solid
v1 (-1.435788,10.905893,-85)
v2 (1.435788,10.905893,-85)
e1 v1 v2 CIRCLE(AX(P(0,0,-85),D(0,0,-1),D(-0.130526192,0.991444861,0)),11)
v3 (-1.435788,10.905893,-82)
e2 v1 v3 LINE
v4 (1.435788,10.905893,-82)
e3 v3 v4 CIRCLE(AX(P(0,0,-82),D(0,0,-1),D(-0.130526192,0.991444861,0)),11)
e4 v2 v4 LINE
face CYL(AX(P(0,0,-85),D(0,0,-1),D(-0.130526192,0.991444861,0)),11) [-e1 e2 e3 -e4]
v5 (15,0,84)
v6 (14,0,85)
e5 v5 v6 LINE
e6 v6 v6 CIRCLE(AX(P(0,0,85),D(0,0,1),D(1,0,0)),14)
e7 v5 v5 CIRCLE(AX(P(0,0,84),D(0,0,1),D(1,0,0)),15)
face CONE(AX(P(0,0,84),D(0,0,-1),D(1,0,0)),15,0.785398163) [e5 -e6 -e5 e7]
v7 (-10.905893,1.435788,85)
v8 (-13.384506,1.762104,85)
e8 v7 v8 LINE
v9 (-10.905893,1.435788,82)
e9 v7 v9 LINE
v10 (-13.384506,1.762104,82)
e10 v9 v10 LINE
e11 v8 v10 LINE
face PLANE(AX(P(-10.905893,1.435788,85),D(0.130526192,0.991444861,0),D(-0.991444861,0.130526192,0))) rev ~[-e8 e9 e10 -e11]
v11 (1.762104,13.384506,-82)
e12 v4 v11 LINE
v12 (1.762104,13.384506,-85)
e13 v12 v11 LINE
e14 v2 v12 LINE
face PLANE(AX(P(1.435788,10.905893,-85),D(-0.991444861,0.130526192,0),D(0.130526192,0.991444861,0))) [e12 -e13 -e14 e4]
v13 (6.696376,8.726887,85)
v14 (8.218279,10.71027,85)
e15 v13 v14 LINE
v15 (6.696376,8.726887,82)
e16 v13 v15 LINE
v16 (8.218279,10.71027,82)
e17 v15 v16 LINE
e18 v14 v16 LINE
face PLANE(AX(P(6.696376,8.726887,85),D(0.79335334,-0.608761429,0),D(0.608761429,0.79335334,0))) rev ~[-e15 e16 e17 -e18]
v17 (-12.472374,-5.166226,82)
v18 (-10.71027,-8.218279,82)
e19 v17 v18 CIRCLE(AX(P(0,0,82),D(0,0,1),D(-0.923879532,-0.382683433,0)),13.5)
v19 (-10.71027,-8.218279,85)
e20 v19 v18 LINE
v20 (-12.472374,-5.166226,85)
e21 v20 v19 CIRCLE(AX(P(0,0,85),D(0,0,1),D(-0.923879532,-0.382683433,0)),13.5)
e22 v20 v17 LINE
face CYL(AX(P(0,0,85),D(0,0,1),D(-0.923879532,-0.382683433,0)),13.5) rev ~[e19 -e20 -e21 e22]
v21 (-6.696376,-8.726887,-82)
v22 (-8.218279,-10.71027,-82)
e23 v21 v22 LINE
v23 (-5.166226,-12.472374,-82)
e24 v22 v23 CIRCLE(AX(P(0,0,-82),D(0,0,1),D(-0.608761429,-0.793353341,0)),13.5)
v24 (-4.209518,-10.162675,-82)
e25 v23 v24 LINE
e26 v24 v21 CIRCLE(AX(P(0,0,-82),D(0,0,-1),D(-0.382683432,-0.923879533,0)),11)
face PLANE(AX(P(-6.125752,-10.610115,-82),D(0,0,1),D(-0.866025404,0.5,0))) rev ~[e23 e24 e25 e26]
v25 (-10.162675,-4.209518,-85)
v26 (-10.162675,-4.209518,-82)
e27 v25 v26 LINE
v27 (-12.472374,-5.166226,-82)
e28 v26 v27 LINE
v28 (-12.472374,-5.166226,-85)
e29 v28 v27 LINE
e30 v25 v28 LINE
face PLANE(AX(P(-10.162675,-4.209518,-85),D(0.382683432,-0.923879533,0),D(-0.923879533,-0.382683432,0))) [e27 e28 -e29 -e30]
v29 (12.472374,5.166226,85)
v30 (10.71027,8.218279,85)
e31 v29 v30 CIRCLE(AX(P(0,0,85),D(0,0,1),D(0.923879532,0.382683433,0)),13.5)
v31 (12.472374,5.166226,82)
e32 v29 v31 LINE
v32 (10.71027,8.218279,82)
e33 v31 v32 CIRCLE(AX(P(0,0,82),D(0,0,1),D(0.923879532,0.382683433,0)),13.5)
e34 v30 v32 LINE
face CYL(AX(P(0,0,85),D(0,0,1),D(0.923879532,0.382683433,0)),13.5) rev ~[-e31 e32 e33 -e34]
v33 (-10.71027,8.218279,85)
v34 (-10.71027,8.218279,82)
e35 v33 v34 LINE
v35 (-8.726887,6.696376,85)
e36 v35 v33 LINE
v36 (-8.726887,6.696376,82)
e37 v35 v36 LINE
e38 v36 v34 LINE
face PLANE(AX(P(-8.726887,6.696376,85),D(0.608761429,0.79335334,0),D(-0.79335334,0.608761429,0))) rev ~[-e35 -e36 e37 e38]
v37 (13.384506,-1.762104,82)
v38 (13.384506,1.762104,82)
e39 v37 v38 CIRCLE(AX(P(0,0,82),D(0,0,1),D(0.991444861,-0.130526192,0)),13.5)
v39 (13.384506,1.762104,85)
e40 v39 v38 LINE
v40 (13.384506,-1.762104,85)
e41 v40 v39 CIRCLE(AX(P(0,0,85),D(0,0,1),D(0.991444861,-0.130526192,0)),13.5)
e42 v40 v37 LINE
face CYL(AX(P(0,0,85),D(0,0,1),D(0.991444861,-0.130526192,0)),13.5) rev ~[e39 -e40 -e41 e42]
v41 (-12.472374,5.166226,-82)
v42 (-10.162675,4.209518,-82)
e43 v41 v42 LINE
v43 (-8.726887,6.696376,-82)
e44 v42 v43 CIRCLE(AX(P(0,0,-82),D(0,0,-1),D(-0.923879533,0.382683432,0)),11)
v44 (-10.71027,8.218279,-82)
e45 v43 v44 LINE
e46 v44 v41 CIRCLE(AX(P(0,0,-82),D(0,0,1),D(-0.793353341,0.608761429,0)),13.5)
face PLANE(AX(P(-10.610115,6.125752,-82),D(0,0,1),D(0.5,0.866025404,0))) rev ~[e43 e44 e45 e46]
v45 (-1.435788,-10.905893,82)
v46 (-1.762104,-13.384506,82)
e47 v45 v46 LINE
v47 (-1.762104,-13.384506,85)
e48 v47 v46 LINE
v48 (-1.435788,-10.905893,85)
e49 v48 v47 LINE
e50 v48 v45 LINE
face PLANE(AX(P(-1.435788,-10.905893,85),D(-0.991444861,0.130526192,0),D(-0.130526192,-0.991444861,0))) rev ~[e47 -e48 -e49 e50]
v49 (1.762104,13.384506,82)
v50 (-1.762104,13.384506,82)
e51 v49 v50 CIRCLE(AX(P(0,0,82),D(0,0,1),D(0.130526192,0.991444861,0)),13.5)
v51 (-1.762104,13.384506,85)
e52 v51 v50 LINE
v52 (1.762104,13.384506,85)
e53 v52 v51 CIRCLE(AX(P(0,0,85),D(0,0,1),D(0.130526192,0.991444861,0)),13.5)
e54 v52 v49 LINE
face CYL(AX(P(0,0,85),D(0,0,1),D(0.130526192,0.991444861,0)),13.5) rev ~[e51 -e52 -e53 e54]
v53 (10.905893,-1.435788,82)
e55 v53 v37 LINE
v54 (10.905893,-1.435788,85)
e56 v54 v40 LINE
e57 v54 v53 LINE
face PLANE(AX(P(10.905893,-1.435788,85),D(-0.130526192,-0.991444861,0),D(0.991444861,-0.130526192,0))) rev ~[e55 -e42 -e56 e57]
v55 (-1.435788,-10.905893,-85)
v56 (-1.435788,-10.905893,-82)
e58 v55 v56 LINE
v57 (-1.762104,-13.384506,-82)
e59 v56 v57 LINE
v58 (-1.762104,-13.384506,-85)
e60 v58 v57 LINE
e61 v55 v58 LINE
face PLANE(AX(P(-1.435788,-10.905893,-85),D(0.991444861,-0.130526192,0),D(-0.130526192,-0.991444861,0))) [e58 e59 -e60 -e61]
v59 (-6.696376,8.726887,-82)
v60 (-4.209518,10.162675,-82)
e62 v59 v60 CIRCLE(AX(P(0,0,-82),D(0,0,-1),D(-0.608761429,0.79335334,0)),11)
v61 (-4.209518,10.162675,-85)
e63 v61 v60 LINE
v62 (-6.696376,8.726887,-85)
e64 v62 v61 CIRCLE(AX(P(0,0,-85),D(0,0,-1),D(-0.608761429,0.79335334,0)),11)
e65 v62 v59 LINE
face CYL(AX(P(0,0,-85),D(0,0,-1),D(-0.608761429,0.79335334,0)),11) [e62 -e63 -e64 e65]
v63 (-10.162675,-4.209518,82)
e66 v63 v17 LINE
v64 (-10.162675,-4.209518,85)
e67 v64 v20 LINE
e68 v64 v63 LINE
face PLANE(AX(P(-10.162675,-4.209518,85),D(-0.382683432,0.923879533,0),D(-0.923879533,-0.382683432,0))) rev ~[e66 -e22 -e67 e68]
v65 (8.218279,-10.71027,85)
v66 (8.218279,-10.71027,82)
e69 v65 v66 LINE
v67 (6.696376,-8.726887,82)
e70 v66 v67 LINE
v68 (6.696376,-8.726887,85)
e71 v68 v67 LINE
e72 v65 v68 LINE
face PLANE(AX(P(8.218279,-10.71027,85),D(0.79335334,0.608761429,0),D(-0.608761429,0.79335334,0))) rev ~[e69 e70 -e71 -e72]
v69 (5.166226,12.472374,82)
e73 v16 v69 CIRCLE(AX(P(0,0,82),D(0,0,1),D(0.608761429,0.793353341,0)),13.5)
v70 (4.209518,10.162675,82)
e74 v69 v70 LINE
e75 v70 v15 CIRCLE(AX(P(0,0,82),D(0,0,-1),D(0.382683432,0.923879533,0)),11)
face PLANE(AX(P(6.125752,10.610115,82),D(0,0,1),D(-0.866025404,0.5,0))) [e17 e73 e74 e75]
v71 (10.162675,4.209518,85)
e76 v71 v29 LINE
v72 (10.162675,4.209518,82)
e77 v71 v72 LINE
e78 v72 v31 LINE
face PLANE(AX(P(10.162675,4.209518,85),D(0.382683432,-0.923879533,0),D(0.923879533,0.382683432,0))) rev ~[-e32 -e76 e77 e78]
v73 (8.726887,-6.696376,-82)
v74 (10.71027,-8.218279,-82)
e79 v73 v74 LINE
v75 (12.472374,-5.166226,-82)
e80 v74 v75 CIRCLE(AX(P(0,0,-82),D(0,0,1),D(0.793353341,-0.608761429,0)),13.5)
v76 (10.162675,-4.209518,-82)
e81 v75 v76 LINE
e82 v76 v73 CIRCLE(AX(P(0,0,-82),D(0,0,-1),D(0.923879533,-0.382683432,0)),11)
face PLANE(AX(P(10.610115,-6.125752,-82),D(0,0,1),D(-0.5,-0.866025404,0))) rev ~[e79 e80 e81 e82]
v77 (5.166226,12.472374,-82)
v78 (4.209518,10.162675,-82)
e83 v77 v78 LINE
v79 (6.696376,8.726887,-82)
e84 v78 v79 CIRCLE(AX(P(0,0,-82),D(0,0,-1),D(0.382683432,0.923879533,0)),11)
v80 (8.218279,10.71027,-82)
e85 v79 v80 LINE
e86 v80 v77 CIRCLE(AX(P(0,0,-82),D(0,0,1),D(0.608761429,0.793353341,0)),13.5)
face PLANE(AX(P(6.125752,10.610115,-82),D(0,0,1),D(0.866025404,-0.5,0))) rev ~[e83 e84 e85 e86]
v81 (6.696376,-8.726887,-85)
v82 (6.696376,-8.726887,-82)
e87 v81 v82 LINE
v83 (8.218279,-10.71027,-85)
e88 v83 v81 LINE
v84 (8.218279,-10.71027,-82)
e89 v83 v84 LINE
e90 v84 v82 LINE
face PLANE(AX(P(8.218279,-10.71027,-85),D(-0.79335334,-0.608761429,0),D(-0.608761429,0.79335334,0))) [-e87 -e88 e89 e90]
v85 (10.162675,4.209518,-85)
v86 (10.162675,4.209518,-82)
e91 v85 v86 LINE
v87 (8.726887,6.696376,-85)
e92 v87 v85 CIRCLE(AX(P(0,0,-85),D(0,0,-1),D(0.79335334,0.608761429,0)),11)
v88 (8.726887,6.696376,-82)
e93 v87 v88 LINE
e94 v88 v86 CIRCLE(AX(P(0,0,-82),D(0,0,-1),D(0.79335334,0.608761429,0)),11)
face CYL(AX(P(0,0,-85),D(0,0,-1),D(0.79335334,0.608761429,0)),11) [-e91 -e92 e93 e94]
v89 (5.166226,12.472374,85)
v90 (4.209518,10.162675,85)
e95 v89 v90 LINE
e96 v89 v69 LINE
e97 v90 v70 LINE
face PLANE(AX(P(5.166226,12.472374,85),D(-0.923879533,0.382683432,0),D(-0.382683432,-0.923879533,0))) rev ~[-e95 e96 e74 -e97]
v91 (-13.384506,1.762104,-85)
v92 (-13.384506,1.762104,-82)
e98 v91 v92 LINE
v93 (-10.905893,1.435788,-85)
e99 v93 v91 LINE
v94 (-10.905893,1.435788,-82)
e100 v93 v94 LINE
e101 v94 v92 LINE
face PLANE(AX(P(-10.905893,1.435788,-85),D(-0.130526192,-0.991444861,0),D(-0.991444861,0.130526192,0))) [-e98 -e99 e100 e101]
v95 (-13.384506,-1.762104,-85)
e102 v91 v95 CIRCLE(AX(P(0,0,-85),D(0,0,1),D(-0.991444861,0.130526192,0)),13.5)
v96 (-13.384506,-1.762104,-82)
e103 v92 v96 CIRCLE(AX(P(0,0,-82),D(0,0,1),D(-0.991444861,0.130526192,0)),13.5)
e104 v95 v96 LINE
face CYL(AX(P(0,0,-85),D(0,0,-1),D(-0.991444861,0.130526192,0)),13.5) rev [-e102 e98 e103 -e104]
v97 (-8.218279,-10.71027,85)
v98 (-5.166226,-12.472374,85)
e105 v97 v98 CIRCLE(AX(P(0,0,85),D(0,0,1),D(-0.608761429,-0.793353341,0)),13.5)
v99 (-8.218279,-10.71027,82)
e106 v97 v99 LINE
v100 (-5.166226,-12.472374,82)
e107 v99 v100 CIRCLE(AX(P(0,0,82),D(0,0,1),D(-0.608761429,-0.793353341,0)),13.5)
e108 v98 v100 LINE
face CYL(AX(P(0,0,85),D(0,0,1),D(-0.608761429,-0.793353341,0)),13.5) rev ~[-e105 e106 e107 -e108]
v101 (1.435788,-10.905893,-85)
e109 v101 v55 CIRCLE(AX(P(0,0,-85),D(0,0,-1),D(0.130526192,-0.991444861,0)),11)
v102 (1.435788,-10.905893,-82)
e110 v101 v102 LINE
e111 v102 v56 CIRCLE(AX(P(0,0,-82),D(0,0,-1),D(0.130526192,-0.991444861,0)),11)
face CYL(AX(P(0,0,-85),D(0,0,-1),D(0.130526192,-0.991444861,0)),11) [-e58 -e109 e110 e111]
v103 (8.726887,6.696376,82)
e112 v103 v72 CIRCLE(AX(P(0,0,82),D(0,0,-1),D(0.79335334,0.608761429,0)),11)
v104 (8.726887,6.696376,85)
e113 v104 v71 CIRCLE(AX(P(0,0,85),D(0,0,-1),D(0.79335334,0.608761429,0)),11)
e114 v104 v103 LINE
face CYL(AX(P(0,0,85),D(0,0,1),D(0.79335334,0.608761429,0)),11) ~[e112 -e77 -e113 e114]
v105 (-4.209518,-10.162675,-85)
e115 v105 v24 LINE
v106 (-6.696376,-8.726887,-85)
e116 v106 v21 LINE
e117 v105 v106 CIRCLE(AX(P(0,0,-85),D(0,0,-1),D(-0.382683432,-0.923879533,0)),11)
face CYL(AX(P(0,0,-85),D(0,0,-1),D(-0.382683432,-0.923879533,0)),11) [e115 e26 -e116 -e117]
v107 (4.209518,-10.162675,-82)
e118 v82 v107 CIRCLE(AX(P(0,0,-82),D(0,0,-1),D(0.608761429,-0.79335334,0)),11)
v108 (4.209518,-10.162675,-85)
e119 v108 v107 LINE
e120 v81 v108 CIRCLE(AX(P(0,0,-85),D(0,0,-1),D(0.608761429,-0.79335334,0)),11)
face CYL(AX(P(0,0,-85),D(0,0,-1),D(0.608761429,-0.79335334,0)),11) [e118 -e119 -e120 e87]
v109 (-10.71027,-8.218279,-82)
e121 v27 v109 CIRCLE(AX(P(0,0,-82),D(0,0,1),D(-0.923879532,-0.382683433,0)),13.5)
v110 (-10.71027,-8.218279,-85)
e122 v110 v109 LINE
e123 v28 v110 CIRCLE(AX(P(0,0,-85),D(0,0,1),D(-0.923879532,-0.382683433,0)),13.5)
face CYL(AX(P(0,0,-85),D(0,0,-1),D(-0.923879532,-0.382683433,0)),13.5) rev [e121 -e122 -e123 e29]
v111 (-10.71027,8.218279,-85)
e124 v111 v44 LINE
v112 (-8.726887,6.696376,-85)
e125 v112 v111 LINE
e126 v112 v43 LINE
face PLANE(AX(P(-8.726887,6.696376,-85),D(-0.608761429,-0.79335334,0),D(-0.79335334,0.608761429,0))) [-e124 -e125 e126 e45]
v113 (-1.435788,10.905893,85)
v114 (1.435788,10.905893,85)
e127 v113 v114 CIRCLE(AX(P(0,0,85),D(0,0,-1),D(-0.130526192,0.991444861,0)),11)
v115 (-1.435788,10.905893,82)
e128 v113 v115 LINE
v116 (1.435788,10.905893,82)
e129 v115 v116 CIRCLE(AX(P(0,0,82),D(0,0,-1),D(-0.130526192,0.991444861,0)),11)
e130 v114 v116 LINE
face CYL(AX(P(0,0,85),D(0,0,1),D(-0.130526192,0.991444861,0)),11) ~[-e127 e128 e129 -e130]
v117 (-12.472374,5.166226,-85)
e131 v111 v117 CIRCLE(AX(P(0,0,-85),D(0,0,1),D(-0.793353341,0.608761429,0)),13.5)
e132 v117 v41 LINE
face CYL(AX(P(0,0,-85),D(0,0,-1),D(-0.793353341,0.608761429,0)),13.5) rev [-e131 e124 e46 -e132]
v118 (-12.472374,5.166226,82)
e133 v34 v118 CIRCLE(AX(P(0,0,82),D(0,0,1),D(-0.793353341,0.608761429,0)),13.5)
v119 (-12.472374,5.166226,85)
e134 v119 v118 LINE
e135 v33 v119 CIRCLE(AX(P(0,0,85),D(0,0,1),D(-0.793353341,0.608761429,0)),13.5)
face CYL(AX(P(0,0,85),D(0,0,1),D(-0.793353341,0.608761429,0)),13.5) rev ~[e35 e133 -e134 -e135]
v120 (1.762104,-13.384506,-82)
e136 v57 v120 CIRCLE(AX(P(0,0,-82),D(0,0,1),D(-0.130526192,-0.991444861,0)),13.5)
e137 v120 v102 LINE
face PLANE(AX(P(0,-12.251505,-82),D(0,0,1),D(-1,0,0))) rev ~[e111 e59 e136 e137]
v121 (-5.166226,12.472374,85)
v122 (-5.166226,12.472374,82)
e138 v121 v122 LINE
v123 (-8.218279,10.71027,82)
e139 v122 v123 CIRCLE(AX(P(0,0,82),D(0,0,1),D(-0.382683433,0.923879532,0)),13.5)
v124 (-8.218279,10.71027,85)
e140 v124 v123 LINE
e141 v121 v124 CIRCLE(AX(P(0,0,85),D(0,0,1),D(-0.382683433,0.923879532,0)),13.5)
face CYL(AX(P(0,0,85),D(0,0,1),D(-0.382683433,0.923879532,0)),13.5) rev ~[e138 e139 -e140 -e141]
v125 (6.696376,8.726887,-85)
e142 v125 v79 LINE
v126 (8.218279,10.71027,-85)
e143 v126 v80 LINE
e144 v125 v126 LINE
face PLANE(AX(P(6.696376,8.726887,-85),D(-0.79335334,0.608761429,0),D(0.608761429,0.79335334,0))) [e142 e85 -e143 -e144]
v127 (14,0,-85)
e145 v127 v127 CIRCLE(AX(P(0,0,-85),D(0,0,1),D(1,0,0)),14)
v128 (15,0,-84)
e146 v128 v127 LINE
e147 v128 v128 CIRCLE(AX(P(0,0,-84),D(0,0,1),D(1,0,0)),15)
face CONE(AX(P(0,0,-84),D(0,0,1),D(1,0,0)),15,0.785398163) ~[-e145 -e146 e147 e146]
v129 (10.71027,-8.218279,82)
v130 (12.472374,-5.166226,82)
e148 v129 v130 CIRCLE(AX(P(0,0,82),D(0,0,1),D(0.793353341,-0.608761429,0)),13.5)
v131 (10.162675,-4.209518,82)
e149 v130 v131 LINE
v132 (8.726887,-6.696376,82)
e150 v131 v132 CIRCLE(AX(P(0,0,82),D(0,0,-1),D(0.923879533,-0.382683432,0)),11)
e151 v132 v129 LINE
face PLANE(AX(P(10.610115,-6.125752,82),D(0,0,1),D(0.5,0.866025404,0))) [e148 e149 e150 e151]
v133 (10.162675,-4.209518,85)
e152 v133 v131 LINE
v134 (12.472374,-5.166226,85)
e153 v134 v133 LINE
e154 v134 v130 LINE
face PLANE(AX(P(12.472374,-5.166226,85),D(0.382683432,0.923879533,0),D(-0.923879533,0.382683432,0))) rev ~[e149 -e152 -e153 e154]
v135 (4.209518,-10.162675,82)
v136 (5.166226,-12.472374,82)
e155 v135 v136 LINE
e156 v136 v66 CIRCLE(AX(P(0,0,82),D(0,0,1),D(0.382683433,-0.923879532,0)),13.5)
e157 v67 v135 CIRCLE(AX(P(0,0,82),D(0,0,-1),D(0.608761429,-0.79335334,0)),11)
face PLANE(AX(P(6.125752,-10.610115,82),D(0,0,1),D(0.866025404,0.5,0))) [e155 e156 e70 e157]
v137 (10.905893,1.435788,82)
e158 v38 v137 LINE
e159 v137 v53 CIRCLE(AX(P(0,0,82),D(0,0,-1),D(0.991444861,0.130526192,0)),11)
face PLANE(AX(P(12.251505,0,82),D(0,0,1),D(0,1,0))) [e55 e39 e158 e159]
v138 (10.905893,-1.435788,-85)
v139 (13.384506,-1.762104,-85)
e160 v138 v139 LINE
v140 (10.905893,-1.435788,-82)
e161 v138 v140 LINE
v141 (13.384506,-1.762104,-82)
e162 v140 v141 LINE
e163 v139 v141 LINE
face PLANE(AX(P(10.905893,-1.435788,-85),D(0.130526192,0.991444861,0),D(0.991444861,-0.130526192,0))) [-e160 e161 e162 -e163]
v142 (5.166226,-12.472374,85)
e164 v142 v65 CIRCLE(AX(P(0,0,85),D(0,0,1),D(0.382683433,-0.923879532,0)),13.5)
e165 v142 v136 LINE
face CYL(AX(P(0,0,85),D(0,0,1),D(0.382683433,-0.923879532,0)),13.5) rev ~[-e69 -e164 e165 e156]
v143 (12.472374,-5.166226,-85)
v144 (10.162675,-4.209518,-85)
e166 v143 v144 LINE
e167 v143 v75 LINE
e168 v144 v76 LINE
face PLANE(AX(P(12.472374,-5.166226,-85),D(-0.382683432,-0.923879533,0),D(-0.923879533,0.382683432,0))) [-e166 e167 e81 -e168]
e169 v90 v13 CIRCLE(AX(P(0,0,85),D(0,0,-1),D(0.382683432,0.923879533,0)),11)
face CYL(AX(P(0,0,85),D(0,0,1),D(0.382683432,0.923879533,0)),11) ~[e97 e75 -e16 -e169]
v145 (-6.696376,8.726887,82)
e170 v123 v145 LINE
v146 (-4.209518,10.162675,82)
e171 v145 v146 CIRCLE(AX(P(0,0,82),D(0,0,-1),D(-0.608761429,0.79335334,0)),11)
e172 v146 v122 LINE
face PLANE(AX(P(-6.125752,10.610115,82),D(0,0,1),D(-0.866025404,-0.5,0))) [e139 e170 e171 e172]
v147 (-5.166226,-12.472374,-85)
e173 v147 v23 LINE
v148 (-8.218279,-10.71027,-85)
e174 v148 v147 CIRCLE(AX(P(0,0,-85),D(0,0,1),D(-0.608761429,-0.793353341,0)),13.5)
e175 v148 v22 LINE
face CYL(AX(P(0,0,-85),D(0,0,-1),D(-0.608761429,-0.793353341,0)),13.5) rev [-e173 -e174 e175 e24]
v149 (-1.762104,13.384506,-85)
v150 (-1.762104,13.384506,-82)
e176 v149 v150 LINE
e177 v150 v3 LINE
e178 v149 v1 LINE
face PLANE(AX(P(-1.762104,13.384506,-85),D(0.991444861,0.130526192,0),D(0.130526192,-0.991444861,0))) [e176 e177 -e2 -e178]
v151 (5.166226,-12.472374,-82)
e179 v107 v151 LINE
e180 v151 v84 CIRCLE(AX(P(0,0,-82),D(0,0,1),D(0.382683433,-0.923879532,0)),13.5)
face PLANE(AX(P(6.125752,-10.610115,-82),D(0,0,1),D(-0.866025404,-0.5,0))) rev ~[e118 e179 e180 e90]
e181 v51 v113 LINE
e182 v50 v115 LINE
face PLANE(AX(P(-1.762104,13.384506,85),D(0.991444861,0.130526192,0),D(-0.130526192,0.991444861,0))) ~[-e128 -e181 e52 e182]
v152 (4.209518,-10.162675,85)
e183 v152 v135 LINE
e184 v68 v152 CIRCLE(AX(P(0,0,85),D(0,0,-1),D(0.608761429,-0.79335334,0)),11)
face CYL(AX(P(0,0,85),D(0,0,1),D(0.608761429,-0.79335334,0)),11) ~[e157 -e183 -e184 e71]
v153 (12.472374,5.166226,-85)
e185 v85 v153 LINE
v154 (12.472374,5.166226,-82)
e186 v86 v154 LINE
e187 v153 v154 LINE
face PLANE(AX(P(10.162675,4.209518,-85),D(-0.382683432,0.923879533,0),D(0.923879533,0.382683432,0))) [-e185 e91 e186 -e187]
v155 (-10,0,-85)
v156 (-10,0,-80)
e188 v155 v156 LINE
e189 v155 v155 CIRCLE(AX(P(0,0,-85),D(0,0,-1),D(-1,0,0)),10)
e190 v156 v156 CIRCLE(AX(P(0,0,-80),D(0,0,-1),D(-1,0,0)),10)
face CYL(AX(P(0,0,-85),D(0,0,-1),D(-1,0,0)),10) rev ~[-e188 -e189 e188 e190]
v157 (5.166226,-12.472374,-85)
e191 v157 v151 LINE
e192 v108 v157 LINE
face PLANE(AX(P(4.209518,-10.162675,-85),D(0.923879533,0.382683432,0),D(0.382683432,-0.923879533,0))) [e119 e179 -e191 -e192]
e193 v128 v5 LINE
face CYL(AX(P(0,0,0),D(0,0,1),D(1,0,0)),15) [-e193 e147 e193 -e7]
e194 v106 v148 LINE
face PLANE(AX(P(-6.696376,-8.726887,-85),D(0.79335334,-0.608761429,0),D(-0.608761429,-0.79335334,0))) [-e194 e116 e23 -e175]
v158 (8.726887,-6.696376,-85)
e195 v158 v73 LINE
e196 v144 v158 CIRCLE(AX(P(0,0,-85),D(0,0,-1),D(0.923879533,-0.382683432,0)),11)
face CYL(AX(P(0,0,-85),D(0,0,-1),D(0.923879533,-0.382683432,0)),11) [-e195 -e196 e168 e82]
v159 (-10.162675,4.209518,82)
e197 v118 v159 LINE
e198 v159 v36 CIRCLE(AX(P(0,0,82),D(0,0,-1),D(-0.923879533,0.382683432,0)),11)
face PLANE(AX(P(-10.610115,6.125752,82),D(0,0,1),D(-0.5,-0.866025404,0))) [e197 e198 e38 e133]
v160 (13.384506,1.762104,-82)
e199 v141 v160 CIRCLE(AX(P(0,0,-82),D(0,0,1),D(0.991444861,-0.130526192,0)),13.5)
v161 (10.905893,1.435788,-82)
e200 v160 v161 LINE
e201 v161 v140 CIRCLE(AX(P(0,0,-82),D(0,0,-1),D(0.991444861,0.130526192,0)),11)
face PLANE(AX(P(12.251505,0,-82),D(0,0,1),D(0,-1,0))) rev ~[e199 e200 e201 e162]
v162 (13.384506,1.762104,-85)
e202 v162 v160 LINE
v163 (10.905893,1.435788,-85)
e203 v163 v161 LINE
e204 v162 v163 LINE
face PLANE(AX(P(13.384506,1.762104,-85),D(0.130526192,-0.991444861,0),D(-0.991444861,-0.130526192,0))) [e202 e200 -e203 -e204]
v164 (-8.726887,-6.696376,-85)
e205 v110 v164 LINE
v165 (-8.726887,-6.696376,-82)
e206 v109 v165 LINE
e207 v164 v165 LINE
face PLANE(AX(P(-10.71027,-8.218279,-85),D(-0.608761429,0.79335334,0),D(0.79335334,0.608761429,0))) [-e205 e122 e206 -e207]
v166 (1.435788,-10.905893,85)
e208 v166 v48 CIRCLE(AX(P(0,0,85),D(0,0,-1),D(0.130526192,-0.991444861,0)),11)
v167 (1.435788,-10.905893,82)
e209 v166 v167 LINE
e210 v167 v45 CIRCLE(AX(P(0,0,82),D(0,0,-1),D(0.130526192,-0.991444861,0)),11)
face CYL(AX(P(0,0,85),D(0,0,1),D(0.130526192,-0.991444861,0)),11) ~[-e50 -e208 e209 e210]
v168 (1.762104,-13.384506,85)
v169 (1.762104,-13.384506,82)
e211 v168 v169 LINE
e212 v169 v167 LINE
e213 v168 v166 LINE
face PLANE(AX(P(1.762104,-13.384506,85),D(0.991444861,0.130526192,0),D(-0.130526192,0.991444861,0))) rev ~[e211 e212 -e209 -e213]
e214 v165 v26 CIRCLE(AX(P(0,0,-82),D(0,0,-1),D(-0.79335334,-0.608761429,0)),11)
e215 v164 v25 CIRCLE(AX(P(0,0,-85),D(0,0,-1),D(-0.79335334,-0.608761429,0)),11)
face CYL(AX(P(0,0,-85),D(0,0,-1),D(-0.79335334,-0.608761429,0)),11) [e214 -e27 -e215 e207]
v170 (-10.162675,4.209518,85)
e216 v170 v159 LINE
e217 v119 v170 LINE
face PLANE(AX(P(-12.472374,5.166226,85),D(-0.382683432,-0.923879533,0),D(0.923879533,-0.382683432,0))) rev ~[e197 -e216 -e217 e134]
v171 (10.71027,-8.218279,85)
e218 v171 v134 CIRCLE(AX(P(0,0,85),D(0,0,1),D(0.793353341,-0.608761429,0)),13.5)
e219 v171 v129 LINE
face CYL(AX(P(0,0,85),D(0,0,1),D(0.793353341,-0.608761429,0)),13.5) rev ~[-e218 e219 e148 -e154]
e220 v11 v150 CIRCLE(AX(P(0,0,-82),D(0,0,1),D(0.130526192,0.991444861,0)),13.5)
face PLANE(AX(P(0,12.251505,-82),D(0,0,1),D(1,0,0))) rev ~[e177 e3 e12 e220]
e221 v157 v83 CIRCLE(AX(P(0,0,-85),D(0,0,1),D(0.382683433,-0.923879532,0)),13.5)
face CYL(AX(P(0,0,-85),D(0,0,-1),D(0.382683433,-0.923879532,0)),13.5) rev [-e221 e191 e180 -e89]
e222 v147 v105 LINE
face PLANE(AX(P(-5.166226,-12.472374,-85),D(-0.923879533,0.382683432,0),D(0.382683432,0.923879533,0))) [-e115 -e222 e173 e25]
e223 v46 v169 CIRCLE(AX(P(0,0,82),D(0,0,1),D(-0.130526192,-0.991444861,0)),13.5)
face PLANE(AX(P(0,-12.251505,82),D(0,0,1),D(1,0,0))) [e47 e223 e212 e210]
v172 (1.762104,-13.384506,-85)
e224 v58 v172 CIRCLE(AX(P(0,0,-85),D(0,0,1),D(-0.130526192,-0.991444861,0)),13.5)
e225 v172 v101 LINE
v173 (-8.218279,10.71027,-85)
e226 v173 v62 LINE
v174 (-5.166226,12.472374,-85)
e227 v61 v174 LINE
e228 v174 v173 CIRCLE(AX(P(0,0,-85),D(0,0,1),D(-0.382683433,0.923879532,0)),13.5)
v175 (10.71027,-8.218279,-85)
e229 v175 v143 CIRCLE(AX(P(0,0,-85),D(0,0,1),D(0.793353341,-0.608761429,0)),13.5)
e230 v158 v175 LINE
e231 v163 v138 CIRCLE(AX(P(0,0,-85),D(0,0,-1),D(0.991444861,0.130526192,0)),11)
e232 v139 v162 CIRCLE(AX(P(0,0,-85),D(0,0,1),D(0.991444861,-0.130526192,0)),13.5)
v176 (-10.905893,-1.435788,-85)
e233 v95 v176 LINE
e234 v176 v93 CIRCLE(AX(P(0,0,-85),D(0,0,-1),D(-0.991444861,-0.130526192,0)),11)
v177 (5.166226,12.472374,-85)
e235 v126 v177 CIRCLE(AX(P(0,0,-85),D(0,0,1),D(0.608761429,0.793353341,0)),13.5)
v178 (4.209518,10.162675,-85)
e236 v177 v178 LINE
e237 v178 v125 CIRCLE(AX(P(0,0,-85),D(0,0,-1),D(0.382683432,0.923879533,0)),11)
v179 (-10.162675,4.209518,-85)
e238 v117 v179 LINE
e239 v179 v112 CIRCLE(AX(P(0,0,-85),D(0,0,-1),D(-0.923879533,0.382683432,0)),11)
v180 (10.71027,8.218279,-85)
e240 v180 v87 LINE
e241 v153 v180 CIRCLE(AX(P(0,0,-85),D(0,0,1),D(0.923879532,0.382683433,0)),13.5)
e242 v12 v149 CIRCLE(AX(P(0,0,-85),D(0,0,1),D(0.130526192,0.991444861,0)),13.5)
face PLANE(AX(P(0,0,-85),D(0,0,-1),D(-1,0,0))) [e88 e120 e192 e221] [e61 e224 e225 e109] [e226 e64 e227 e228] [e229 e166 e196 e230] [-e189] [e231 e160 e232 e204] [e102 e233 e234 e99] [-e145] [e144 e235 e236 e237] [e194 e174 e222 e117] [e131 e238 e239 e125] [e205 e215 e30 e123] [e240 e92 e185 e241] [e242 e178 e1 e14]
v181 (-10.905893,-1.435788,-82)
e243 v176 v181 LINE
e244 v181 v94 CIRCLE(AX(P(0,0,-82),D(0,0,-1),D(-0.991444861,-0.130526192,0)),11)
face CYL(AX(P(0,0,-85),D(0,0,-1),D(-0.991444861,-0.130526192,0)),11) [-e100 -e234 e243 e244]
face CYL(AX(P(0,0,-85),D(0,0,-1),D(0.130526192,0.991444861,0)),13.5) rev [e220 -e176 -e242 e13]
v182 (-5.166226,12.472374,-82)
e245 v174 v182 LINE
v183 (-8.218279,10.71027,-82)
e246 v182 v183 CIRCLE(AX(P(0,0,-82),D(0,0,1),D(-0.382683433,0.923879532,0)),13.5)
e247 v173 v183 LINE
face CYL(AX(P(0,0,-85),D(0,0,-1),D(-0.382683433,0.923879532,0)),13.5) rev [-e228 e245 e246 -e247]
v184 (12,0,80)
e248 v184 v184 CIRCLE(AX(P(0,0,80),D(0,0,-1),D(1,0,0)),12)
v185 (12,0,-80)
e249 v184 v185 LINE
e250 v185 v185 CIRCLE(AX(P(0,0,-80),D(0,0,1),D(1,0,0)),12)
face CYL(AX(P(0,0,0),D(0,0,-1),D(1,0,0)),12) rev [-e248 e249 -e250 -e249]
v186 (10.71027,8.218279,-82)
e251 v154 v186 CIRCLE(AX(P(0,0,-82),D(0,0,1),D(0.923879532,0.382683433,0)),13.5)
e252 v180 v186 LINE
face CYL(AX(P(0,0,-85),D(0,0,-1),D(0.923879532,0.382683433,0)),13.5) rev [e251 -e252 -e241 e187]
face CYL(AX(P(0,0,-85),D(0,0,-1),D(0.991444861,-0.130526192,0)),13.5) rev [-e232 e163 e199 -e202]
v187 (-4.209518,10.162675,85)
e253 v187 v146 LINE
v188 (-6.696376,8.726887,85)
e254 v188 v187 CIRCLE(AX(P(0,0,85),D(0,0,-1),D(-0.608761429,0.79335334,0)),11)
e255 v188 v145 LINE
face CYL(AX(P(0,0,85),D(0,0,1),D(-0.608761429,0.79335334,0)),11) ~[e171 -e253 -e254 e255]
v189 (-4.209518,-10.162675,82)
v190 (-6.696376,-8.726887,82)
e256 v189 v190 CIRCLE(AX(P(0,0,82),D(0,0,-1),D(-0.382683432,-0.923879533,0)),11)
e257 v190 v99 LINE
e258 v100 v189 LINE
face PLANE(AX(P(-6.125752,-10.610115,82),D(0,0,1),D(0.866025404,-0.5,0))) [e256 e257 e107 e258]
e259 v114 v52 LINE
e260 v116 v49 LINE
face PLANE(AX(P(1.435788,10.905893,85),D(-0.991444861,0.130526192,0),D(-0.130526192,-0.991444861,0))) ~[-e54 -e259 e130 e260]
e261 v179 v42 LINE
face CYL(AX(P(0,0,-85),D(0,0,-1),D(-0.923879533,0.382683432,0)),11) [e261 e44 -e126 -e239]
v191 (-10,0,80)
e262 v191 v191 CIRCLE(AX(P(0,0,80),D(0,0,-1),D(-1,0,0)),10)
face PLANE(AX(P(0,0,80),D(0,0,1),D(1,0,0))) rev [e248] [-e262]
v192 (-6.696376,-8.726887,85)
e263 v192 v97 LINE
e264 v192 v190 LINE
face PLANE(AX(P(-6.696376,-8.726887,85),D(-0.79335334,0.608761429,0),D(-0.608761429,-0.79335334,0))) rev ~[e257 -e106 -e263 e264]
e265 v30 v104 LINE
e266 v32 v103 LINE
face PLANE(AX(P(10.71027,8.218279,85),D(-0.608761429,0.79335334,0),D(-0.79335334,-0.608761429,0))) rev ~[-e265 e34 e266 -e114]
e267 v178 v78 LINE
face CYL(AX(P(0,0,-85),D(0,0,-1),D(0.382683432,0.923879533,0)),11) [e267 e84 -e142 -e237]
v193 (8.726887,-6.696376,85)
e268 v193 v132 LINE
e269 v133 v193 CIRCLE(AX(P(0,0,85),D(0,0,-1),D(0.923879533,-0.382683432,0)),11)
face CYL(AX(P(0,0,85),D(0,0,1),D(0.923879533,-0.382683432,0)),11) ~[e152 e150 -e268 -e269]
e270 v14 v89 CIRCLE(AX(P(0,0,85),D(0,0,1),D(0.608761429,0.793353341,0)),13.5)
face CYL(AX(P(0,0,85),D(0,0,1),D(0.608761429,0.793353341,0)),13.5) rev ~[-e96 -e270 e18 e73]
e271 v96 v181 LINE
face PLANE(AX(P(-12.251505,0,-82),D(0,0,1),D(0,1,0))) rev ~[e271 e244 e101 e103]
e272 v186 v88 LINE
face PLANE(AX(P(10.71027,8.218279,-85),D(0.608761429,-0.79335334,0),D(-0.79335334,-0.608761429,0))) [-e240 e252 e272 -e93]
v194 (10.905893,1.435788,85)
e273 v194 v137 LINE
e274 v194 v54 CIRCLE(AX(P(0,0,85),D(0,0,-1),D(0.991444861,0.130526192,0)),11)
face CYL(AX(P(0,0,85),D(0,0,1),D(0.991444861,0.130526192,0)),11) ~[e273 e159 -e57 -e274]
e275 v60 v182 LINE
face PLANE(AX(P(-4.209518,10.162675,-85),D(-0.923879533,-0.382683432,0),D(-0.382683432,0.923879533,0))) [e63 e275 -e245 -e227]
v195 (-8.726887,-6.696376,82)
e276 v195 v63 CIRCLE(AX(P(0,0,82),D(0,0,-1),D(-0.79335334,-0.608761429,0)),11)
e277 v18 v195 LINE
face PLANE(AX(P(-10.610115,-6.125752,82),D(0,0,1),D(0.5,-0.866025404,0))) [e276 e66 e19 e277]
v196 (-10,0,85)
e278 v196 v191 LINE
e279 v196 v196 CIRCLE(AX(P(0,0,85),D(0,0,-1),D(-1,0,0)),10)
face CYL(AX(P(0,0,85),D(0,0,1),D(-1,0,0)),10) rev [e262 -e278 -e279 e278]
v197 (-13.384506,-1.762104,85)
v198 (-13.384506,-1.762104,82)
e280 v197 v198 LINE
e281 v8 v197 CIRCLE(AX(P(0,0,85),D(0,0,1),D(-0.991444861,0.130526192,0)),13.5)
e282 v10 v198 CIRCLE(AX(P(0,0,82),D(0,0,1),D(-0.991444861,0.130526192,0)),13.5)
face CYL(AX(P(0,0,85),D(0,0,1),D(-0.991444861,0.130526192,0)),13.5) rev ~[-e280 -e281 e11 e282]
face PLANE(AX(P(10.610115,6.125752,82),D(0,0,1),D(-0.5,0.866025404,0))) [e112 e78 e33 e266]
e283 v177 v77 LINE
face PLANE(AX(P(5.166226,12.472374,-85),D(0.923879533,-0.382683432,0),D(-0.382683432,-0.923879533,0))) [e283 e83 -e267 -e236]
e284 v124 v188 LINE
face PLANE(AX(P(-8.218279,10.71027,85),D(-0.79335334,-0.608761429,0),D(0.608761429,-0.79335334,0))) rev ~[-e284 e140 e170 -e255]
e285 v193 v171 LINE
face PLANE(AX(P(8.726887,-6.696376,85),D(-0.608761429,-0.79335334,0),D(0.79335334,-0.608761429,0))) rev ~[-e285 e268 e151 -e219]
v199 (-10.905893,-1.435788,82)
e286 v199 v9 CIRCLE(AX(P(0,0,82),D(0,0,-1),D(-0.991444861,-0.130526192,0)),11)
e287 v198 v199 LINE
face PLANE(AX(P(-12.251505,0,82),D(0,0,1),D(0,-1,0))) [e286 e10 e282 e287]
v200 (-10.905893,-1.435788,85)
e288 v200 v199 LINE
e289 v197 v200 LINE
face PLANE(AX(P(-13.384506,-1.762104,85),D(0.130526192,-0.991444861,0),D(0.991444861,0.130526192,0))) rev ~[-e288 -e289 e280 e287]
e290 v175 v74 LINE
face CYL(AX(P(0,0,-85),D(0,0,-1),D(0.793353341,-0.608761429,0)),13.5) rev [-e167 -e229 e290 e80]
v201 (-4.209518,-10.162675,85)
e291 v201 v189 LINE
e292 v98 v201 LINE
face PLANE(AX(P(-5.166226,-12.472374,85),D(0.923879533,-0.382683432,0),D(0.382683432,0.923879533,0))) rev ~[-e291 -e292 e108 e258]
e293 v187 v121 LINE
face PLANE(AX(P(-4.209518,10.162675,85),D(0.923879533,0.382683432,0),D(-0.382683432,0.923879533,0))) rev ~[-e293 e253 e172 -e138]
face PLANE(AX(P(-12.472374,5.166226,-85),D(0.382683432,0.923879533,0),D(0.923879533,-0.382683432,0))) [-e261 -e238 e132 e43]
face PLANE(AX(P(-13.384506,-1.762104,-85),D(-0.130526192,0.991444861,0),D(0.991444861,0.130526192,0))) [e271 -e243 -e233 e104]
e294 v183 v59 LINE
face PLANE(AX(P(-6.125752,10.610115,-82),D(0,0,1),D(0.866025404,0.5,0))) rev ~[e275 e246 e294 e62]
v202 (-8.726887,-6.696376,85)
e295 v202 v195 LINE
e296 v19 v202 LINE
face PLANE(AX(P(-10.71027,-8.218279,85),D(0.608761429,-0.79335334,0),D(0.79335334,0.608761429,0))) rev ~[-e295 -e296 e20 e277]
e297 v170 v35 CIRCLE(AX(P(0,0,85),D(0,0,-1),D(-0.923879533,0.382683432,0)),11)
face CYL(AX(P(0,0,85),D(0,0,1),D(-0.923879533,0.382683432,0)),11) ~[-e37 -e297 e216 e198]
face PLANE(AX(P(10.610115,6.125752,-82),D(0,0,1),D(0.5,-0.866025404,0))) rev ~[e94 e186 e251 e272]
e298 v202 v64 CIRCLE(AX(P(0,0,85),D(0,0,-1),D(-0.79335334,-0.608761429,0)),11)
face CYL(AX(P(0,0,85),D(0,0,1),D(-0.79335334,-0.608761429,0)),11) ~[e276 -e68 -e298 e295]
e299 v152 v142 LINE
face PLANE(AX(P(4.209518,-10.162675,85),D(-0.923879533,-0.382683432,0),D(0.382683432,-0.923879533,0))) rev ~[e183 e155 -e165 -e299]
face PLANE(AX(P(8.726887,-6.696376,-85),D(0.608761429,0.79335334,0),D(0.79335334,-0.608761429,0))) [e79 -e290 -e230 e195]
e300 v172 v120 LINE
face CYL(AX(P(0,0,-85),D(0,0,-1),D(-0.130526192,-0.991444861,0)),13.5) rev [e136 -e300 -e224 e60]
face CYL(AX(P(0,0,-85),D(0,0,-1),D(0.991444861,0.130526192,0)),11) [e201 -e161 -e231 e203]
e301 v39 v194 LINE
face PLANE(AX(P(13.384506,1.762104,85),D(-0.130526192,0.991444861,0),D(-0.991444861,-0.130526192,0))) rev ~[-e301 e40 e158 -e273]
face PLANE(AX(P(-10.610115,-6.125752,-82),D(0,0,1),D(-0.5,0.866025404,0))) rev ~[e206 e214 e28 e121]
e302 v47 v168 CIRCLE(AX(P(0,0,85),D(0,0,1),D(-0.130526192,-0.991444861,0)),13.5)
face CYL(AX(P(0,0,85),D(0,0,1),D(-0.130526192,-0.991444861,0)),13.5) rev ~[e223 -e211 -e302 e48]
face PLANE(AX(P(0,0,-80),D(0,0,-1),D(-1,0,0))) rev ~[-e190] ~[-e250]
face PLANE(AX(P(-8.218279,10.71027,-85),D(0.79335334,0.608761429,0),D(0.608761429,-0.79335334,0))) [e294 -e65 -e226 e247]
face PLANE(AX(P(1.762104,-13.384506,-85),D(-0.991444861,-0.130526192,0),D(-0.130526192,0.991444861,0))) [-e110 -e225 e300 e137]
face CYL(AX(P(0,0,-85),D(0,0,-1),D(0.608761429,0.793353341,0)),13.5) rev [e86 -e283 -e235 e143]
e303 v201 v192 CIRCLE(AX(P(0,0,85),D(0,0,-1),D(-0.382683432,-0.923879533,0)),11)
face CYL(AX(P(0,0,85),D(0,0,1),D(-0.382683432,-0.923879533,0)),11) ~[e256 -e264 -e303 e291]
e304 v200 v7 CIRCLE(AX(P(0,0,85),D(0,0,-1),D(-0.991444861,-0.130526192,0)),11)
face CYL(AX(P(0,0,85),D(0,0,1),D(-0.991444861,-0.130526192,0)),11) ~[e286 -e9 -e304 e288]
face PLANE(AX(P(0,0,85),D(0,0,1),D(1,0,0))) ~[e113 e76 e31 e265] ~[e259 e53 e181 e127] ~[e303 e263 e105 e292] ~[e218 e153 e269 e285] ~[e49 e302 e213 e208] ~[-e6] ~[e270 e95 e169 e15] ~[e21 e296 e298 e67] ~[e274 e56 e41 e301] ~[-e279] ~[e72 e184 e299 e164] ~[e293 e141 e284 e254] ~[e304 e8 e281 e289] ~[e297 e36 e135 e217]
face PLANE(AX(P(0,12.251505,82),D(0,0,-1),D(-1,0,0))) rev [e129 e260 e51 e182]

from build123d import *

# Parameters (mm, degrees)
SKETCH1_R             = 15
SKETCH1_R_2           = 12
BOSS_EXTRUDE1_DEPTH   = 85
CHAMFER1_SIZE         = 1
SKETCH2_R             = 12
SKETCH2_R_2           = 10
BOSS_EXTRUDE2_DEPTH   = 5
CUT_EXTRUDE1_DEPTH    = 3
CIRPATTERN1_COUNT     = 12
MIRROR2_COPY_1_DEPTH  = 3
MIRROR2_COPY_2_DEPTH  = 3
MIRROR2_COPY_3_DEPTH  = 3
MIRROR2_COPY_4_DEPTH  = 3
MIRROR2_COPY_5_DEPTH  = 3
MIRROR2_COPY_6_DEPTH  = 3
MIRROR2_COPY_7_DEPTH  = 3
MIRROR2_COPY_8_DEPTH  = 3
MIRROR2_COPY_9_DEPTH  = 3
MIRROR2_COPY_10_DEPTH = 3
MIRROR2_COPY_11_DEPTH = 3


with BuildPart() as part:
    # Sketch1 → Boss-Extrude1 (new, symmetric)
    with BuildSketch(Plane.XY):
        Circle(SKETCH1_R)
        Circle(SKETCH1_R_2, mode=Mode.SUBTRACT)
    extrude(amount=BOSS_EXTRUDE1_DEPTH, both=True)

    # Chamfer1
    chamfer1_edges = [part.edges().sort_by_distance(p)[0] for p in [
        (-15, 0, -85),
        (-15, 0, 85),
    ]]
    chamfer(chamfer1_edges, length=CHAMFER1_SIZE)

    # Sketch2 → Boss-Extrude2 (add)
    with BuildSketch(Plane(origin=(0, 0, -85), x_dir=(-1, 0, 0), z_dir=(0, 0, -1))):
        Circle(SKETCH2_R)
        Circle(SKETCH2_R_2, mode=Mode.SUBTRACT)
    boss_extrude2 = extrude(amount=-BOSS_EXTRUDE2_DEPTH)

    # Mirror1: Boss-Extrude2 across plane
    add(boss_extrude2.mirror(Plane.XY))

    # Sketch3 → Cut-Extrude1 (cut)
    with BuildSketch(Plane(origin=(0, 0, -85), x_dir=(-1, 0, 0), z_dir=(0, 0, -1))):
        with BuildLine():
            Line((-1.435788114, 10.905893475), (-1.762103595, 13.384505629))
            ThreePointArc((-1.762103595, 13.384505629), (0, 13.5), (1.762103595, 13.384505629))
            Line((1.762103595, 13.384505629), (1.435788114, 10.905893475))
            ThreePointArc((1.435788114, 10.905893475), (0, 11), (-1.435788114, 10.905893475))
        make_face()
    cut_extrude1 = extrude(amount=-CUT_EXTRUDE1_DEPTH, mode=Mode.SUBTRACT)

    # CirPattern1: Cut-Extrude1 ×12 about axis
    cirpattern1_axis = Axis((0, 0, 0), (0, 0, 1))
    for i in range(1, CIRPATTERN1_COUNT):
        add(cut_extrude1.rotate(cirpattern1_axis, i * 360 / CIRPATTERN1_COUNT), mode=Mode.SUBTRACT)

    # Mirror2: Cut-Extrude1 across plane
    add(cut_extrude1.mirror(Plane.XY), mode=Mode.SUBTRACT)

    # Mirror2 copy 1 sketch → Mirror2 copy 1 (cut)
    with BuildSketch(Plane(origin=(0, 0, 85), x_dir=(-0.8660254037844387, -0.49999999999999994, 0), z_dir=(0, 0, 1))):
        with BuildLine():
            Line((-1.435788114, -10.905893475), (-1.762103595, -13.384505629))
            ThreePointArc((-1.762103595, -13.384505629), (0, -13.5), (1.762103595, -13.384505629))
            Line((1.762103595, -13.384505629), (1.435788114, -10.905893475))
            ThreePointArc((1.435788114, -10.905893475), (0, -11), (-1.435788114, -10.905893475))
        make_face()
    extrude(amount=-MIRROR2_COPY_1_DEPTH, mode=Mode.SUBTRACT)

    # Mirror2 copy 2 sketch → Mirror2 copy 2 (cut)
    with BuildSketch(Plane(origin=(0, 0, 85), x_dir=(-0.5000000000000001, -0.8660254037844386, 0), z_dir=(0, 0, 1))):
        with BuildLine():
            Line((-1.435788114, -10.905893475), (-1.762103595, -13.384505629))
            ThreePointArc((-1.762103595, -13.384505629), (0, -13.5), (1.762103595, -13.384505629))
            Line((1.762103595, -13.384505629), (1.435788114, -10.905893475))
            ThreePointArc((1.435788114, -10.905893475), (0, -11), (-1.435788114, -10.905893475))
        make_face()
    extrude(amount=-MIRROR2_COPY_2_DEPTH, mode=Mode.SUBTRACT)

    # Mirror2 copy 3 sketch → Mirror2 copy 3 (cut)
    with BuildSketch(Plane(origin=(0, 0, 85), x_dir=(0, -1, 0), z_dir=(0, 0, 1))):
        with BuildLine():
            Line((-1.435788114, -10.905893475), (-1.762103595, -13.384505629))
            ThreePointArc((-1.762103595, -13.384505629), (0, -13.5), (1.762103595, -13.384505629))
            Line((1.762103595, -13.384505629), (1.435788114, -10.905893475))
            ThreePointArc((1.435788114, -10.905893475), (0, -11), (-1.435788114, -10.905893475))
        make_face()
    extrude(amount=-MIRROR2_COPY_3_DEPTH, mode=Mode.SUBTRACT)

    # Mirror2 copy 4 sketch → Mirror2 copy 4 (cut)
    with BuildSketch(Plane(origin=(0, 0, 85), x_dir=(0.4999999999999998, -0.8660254037844387, 0), z_dir=(0, 0, 1))):
        with BuildLine():
            Line((-1.435788114, -10.905893475), (-1.762103595, -13.384505629))
            ThreePointArc((-1.762103595, -13.384505629), (0, -13.5), (1.762103595, -13.384505629))
            Line((1.762103595, -13.384505629), (1.435788114, -10.905893475))
            ThreePointArc((1.435788114, -10.905893475), (0, -11), (-1.435788114, -10.905893475))
        make_face()
    extrude(amount=-MIRROR2_COPY_4_DEPTH, mode=Mode.SUBTRACT)

    # Mirror2 copy 5 sketch → Mirror2 copy 5 (cut)
    with BuildSketch(Plane(origin=(0, 0, 85), x_dir=(0.8660254037844387, -0.49999999999999994, 0), z_dir=(0, 0, 1))):
        with BuildLine():
            Line((-1.435788114, -10.905893475), (-1.762103595, -13.384505629))
            ThreePointArc((-1.762103595, -13.384505629), (0, -13.5), (1.762103595, -13.384505629))
            Line((1.762103595, -13.384505629), (1.435788114, -10.905893475))
            ThreePointArc((1.435788114, -10.905893475), (0, -11), (-1.435788114, -10.905893475))
        make_face()
    extrude(amount=-MIRROR2_COPY_5_DEPTH, mode=Mode.SUBTRACT)

    # Mirror2 copy 6 sketch → Mirror2 copy 6 (cut)
    with BuildSketch(Plane.XY.offset(85)):
        with BuildLine():
            Line((-1.435788114, -10.905893475), (-1.762103595, -13.384505629))
            ThreePointArc((-1.762103595, -13.384505629), (0, -13.5), (1.762103595, -13.384505629))
            Line((1.762103595, -13.384505629), (1.435788114, -10.905893475))
            ThreePointArc((1.435788114, -10.905893475), (0, -11), (-1.435788114, -10.905893475))
        make_face()
    extrude(amount=-MIRROR2_COPY_6_DEPTH, mode=Mode.SUBTRACT)

    # Mirror2 copy 7 sketch → Mirror2 copy 7 (cut)
    with BuildSketch(Plane(origin=(0, 0, 85), x_dir=(0.8660254037844386, 0.5000000000000001, 0), z_dir=(0, 0, 1))):
        with BuildLine():
            Line((-1.435788114, -10.905893475), (-1.762103595, -13.384505629))
            ThreePointArc((-1.762103595, -13.384505629), (0, -13.5), (1.762103595, -13.384505629))
            Line((1.762103595, -13.384505629), (1.435788114, -10.905893475))
            ThreePointArc((1.435788114, -10.905893475), (0, -11), (-1.435788114, -10.905893475))
        make_face()
    extrude(amount=-MIRROR2_COPY_7_DEPTH, mode=Mode.SUBTRACT)

    # Mirror2 copy 8 sketch → Mirror2 copy 8 (cut)
    with BuildSketch(Plane(origin=(0, 0, 85), x_dir=(0.5000000000000004, 0.8660254037844384, 0), z_dir=(0, 0, 1))):
        with BuildLine():
            Line((-1.435788114, -10.905893475), (-1.762103595, -13.384505629))
            ThreePointArc((-1.762103595, -13.384505629), (0, -13.5), (1.762103595, -13.384505629))
            Line((1.762103595, -13.384505629), (1.435788114, -10.905893475))
            ThreePointArc((1.435788114, -10.905893475), (0, -11), (-1.435788114, -10.905893475))
        make_face()
    extrude(amount=-MIRROR2_COPY_8_DEPTH, mode=Mode.SUBTRACT)

    # Mirror2 copy 9 sketch → Mirror2 copy 9 (cut)
    with BuildSketch(Plane(origin=(0, 0, 85), x_dir=(0, 1, 0), z_dir=(0, 0, 1))):
        with BuildLine():
            Line((-1.435788114, -10.905893475), (-1.762103595, -13.384505629))
            ThreePointArc((-1.762103595, -13.384505629), (0, -13.5), (1.762103595, -13.384505629))
            Line((1.762103595, -13.384505629), (1.435788114, -10.905893475))
            ThreePointArc((1.435788114, -10.905893475), (0, -11), (-1.435788114, -10.905893475))
        make_face()
    extrude(amount=-MIRROR2_COPY_9_DEPTH, mode=Mode.SUBTRACT)

    # Mirror2 copy 10 sketch → Mirror2 copy 10 (cut)
    with BuildSketch(Plane(origin=(0, 0, 85), x_dir=(-0.5000000000000001, 0.8660254037844386, 0), z_dir=(0, 0, 1))):
        with BuildLine():
            Line((-1.435788114, -10.905893475), (-1.762103595, -13.384505629))
            ThreePointArc((-1.762103595, -13.384505629), (0, -13.5), (1.762103595, -13.384505629))
            Line((1.762103595, -13.384505629), (1.435788114, -10.905893475))
            ThreePointArc((1.435788114, -10.905893475), (0, -11), (-1.435788114, -10.905893475))
        make_face()
    extrude(amount=-MIRROR2_COPY_10_DEPTH, mode=Mode.SUBTRACT)

    # Mirror2 copy 11 sketch → Mirror2 copy 11 (cut)
    with BuildSketch(Plane(origin=(0, 0, 85), x_dir=(-0.8660254037844384, 0.5000000000000004, 0), z_dir=(0, 0, 1))):
        with BuildLine():
            Line((-1.435788114, -10.905893475), (-1.762103595, -13.384505629))
            ThreePointArc((-1.762103595, -13.384505629), (0, -13.5), (1.762103595, -13.384505629))
            Line((1.762103595, -13.384505629), (1.435788114, -10.905893475))
            ThreePointArc((1.435788114, -10.905893475), (0, -11), (-1.435788114, -10.905893475))
        make_face()
    extrude(amount=-MIRROR2_COPY_11_DEPTH, mode=Mode.SUBTRACT)


solid = part.part
